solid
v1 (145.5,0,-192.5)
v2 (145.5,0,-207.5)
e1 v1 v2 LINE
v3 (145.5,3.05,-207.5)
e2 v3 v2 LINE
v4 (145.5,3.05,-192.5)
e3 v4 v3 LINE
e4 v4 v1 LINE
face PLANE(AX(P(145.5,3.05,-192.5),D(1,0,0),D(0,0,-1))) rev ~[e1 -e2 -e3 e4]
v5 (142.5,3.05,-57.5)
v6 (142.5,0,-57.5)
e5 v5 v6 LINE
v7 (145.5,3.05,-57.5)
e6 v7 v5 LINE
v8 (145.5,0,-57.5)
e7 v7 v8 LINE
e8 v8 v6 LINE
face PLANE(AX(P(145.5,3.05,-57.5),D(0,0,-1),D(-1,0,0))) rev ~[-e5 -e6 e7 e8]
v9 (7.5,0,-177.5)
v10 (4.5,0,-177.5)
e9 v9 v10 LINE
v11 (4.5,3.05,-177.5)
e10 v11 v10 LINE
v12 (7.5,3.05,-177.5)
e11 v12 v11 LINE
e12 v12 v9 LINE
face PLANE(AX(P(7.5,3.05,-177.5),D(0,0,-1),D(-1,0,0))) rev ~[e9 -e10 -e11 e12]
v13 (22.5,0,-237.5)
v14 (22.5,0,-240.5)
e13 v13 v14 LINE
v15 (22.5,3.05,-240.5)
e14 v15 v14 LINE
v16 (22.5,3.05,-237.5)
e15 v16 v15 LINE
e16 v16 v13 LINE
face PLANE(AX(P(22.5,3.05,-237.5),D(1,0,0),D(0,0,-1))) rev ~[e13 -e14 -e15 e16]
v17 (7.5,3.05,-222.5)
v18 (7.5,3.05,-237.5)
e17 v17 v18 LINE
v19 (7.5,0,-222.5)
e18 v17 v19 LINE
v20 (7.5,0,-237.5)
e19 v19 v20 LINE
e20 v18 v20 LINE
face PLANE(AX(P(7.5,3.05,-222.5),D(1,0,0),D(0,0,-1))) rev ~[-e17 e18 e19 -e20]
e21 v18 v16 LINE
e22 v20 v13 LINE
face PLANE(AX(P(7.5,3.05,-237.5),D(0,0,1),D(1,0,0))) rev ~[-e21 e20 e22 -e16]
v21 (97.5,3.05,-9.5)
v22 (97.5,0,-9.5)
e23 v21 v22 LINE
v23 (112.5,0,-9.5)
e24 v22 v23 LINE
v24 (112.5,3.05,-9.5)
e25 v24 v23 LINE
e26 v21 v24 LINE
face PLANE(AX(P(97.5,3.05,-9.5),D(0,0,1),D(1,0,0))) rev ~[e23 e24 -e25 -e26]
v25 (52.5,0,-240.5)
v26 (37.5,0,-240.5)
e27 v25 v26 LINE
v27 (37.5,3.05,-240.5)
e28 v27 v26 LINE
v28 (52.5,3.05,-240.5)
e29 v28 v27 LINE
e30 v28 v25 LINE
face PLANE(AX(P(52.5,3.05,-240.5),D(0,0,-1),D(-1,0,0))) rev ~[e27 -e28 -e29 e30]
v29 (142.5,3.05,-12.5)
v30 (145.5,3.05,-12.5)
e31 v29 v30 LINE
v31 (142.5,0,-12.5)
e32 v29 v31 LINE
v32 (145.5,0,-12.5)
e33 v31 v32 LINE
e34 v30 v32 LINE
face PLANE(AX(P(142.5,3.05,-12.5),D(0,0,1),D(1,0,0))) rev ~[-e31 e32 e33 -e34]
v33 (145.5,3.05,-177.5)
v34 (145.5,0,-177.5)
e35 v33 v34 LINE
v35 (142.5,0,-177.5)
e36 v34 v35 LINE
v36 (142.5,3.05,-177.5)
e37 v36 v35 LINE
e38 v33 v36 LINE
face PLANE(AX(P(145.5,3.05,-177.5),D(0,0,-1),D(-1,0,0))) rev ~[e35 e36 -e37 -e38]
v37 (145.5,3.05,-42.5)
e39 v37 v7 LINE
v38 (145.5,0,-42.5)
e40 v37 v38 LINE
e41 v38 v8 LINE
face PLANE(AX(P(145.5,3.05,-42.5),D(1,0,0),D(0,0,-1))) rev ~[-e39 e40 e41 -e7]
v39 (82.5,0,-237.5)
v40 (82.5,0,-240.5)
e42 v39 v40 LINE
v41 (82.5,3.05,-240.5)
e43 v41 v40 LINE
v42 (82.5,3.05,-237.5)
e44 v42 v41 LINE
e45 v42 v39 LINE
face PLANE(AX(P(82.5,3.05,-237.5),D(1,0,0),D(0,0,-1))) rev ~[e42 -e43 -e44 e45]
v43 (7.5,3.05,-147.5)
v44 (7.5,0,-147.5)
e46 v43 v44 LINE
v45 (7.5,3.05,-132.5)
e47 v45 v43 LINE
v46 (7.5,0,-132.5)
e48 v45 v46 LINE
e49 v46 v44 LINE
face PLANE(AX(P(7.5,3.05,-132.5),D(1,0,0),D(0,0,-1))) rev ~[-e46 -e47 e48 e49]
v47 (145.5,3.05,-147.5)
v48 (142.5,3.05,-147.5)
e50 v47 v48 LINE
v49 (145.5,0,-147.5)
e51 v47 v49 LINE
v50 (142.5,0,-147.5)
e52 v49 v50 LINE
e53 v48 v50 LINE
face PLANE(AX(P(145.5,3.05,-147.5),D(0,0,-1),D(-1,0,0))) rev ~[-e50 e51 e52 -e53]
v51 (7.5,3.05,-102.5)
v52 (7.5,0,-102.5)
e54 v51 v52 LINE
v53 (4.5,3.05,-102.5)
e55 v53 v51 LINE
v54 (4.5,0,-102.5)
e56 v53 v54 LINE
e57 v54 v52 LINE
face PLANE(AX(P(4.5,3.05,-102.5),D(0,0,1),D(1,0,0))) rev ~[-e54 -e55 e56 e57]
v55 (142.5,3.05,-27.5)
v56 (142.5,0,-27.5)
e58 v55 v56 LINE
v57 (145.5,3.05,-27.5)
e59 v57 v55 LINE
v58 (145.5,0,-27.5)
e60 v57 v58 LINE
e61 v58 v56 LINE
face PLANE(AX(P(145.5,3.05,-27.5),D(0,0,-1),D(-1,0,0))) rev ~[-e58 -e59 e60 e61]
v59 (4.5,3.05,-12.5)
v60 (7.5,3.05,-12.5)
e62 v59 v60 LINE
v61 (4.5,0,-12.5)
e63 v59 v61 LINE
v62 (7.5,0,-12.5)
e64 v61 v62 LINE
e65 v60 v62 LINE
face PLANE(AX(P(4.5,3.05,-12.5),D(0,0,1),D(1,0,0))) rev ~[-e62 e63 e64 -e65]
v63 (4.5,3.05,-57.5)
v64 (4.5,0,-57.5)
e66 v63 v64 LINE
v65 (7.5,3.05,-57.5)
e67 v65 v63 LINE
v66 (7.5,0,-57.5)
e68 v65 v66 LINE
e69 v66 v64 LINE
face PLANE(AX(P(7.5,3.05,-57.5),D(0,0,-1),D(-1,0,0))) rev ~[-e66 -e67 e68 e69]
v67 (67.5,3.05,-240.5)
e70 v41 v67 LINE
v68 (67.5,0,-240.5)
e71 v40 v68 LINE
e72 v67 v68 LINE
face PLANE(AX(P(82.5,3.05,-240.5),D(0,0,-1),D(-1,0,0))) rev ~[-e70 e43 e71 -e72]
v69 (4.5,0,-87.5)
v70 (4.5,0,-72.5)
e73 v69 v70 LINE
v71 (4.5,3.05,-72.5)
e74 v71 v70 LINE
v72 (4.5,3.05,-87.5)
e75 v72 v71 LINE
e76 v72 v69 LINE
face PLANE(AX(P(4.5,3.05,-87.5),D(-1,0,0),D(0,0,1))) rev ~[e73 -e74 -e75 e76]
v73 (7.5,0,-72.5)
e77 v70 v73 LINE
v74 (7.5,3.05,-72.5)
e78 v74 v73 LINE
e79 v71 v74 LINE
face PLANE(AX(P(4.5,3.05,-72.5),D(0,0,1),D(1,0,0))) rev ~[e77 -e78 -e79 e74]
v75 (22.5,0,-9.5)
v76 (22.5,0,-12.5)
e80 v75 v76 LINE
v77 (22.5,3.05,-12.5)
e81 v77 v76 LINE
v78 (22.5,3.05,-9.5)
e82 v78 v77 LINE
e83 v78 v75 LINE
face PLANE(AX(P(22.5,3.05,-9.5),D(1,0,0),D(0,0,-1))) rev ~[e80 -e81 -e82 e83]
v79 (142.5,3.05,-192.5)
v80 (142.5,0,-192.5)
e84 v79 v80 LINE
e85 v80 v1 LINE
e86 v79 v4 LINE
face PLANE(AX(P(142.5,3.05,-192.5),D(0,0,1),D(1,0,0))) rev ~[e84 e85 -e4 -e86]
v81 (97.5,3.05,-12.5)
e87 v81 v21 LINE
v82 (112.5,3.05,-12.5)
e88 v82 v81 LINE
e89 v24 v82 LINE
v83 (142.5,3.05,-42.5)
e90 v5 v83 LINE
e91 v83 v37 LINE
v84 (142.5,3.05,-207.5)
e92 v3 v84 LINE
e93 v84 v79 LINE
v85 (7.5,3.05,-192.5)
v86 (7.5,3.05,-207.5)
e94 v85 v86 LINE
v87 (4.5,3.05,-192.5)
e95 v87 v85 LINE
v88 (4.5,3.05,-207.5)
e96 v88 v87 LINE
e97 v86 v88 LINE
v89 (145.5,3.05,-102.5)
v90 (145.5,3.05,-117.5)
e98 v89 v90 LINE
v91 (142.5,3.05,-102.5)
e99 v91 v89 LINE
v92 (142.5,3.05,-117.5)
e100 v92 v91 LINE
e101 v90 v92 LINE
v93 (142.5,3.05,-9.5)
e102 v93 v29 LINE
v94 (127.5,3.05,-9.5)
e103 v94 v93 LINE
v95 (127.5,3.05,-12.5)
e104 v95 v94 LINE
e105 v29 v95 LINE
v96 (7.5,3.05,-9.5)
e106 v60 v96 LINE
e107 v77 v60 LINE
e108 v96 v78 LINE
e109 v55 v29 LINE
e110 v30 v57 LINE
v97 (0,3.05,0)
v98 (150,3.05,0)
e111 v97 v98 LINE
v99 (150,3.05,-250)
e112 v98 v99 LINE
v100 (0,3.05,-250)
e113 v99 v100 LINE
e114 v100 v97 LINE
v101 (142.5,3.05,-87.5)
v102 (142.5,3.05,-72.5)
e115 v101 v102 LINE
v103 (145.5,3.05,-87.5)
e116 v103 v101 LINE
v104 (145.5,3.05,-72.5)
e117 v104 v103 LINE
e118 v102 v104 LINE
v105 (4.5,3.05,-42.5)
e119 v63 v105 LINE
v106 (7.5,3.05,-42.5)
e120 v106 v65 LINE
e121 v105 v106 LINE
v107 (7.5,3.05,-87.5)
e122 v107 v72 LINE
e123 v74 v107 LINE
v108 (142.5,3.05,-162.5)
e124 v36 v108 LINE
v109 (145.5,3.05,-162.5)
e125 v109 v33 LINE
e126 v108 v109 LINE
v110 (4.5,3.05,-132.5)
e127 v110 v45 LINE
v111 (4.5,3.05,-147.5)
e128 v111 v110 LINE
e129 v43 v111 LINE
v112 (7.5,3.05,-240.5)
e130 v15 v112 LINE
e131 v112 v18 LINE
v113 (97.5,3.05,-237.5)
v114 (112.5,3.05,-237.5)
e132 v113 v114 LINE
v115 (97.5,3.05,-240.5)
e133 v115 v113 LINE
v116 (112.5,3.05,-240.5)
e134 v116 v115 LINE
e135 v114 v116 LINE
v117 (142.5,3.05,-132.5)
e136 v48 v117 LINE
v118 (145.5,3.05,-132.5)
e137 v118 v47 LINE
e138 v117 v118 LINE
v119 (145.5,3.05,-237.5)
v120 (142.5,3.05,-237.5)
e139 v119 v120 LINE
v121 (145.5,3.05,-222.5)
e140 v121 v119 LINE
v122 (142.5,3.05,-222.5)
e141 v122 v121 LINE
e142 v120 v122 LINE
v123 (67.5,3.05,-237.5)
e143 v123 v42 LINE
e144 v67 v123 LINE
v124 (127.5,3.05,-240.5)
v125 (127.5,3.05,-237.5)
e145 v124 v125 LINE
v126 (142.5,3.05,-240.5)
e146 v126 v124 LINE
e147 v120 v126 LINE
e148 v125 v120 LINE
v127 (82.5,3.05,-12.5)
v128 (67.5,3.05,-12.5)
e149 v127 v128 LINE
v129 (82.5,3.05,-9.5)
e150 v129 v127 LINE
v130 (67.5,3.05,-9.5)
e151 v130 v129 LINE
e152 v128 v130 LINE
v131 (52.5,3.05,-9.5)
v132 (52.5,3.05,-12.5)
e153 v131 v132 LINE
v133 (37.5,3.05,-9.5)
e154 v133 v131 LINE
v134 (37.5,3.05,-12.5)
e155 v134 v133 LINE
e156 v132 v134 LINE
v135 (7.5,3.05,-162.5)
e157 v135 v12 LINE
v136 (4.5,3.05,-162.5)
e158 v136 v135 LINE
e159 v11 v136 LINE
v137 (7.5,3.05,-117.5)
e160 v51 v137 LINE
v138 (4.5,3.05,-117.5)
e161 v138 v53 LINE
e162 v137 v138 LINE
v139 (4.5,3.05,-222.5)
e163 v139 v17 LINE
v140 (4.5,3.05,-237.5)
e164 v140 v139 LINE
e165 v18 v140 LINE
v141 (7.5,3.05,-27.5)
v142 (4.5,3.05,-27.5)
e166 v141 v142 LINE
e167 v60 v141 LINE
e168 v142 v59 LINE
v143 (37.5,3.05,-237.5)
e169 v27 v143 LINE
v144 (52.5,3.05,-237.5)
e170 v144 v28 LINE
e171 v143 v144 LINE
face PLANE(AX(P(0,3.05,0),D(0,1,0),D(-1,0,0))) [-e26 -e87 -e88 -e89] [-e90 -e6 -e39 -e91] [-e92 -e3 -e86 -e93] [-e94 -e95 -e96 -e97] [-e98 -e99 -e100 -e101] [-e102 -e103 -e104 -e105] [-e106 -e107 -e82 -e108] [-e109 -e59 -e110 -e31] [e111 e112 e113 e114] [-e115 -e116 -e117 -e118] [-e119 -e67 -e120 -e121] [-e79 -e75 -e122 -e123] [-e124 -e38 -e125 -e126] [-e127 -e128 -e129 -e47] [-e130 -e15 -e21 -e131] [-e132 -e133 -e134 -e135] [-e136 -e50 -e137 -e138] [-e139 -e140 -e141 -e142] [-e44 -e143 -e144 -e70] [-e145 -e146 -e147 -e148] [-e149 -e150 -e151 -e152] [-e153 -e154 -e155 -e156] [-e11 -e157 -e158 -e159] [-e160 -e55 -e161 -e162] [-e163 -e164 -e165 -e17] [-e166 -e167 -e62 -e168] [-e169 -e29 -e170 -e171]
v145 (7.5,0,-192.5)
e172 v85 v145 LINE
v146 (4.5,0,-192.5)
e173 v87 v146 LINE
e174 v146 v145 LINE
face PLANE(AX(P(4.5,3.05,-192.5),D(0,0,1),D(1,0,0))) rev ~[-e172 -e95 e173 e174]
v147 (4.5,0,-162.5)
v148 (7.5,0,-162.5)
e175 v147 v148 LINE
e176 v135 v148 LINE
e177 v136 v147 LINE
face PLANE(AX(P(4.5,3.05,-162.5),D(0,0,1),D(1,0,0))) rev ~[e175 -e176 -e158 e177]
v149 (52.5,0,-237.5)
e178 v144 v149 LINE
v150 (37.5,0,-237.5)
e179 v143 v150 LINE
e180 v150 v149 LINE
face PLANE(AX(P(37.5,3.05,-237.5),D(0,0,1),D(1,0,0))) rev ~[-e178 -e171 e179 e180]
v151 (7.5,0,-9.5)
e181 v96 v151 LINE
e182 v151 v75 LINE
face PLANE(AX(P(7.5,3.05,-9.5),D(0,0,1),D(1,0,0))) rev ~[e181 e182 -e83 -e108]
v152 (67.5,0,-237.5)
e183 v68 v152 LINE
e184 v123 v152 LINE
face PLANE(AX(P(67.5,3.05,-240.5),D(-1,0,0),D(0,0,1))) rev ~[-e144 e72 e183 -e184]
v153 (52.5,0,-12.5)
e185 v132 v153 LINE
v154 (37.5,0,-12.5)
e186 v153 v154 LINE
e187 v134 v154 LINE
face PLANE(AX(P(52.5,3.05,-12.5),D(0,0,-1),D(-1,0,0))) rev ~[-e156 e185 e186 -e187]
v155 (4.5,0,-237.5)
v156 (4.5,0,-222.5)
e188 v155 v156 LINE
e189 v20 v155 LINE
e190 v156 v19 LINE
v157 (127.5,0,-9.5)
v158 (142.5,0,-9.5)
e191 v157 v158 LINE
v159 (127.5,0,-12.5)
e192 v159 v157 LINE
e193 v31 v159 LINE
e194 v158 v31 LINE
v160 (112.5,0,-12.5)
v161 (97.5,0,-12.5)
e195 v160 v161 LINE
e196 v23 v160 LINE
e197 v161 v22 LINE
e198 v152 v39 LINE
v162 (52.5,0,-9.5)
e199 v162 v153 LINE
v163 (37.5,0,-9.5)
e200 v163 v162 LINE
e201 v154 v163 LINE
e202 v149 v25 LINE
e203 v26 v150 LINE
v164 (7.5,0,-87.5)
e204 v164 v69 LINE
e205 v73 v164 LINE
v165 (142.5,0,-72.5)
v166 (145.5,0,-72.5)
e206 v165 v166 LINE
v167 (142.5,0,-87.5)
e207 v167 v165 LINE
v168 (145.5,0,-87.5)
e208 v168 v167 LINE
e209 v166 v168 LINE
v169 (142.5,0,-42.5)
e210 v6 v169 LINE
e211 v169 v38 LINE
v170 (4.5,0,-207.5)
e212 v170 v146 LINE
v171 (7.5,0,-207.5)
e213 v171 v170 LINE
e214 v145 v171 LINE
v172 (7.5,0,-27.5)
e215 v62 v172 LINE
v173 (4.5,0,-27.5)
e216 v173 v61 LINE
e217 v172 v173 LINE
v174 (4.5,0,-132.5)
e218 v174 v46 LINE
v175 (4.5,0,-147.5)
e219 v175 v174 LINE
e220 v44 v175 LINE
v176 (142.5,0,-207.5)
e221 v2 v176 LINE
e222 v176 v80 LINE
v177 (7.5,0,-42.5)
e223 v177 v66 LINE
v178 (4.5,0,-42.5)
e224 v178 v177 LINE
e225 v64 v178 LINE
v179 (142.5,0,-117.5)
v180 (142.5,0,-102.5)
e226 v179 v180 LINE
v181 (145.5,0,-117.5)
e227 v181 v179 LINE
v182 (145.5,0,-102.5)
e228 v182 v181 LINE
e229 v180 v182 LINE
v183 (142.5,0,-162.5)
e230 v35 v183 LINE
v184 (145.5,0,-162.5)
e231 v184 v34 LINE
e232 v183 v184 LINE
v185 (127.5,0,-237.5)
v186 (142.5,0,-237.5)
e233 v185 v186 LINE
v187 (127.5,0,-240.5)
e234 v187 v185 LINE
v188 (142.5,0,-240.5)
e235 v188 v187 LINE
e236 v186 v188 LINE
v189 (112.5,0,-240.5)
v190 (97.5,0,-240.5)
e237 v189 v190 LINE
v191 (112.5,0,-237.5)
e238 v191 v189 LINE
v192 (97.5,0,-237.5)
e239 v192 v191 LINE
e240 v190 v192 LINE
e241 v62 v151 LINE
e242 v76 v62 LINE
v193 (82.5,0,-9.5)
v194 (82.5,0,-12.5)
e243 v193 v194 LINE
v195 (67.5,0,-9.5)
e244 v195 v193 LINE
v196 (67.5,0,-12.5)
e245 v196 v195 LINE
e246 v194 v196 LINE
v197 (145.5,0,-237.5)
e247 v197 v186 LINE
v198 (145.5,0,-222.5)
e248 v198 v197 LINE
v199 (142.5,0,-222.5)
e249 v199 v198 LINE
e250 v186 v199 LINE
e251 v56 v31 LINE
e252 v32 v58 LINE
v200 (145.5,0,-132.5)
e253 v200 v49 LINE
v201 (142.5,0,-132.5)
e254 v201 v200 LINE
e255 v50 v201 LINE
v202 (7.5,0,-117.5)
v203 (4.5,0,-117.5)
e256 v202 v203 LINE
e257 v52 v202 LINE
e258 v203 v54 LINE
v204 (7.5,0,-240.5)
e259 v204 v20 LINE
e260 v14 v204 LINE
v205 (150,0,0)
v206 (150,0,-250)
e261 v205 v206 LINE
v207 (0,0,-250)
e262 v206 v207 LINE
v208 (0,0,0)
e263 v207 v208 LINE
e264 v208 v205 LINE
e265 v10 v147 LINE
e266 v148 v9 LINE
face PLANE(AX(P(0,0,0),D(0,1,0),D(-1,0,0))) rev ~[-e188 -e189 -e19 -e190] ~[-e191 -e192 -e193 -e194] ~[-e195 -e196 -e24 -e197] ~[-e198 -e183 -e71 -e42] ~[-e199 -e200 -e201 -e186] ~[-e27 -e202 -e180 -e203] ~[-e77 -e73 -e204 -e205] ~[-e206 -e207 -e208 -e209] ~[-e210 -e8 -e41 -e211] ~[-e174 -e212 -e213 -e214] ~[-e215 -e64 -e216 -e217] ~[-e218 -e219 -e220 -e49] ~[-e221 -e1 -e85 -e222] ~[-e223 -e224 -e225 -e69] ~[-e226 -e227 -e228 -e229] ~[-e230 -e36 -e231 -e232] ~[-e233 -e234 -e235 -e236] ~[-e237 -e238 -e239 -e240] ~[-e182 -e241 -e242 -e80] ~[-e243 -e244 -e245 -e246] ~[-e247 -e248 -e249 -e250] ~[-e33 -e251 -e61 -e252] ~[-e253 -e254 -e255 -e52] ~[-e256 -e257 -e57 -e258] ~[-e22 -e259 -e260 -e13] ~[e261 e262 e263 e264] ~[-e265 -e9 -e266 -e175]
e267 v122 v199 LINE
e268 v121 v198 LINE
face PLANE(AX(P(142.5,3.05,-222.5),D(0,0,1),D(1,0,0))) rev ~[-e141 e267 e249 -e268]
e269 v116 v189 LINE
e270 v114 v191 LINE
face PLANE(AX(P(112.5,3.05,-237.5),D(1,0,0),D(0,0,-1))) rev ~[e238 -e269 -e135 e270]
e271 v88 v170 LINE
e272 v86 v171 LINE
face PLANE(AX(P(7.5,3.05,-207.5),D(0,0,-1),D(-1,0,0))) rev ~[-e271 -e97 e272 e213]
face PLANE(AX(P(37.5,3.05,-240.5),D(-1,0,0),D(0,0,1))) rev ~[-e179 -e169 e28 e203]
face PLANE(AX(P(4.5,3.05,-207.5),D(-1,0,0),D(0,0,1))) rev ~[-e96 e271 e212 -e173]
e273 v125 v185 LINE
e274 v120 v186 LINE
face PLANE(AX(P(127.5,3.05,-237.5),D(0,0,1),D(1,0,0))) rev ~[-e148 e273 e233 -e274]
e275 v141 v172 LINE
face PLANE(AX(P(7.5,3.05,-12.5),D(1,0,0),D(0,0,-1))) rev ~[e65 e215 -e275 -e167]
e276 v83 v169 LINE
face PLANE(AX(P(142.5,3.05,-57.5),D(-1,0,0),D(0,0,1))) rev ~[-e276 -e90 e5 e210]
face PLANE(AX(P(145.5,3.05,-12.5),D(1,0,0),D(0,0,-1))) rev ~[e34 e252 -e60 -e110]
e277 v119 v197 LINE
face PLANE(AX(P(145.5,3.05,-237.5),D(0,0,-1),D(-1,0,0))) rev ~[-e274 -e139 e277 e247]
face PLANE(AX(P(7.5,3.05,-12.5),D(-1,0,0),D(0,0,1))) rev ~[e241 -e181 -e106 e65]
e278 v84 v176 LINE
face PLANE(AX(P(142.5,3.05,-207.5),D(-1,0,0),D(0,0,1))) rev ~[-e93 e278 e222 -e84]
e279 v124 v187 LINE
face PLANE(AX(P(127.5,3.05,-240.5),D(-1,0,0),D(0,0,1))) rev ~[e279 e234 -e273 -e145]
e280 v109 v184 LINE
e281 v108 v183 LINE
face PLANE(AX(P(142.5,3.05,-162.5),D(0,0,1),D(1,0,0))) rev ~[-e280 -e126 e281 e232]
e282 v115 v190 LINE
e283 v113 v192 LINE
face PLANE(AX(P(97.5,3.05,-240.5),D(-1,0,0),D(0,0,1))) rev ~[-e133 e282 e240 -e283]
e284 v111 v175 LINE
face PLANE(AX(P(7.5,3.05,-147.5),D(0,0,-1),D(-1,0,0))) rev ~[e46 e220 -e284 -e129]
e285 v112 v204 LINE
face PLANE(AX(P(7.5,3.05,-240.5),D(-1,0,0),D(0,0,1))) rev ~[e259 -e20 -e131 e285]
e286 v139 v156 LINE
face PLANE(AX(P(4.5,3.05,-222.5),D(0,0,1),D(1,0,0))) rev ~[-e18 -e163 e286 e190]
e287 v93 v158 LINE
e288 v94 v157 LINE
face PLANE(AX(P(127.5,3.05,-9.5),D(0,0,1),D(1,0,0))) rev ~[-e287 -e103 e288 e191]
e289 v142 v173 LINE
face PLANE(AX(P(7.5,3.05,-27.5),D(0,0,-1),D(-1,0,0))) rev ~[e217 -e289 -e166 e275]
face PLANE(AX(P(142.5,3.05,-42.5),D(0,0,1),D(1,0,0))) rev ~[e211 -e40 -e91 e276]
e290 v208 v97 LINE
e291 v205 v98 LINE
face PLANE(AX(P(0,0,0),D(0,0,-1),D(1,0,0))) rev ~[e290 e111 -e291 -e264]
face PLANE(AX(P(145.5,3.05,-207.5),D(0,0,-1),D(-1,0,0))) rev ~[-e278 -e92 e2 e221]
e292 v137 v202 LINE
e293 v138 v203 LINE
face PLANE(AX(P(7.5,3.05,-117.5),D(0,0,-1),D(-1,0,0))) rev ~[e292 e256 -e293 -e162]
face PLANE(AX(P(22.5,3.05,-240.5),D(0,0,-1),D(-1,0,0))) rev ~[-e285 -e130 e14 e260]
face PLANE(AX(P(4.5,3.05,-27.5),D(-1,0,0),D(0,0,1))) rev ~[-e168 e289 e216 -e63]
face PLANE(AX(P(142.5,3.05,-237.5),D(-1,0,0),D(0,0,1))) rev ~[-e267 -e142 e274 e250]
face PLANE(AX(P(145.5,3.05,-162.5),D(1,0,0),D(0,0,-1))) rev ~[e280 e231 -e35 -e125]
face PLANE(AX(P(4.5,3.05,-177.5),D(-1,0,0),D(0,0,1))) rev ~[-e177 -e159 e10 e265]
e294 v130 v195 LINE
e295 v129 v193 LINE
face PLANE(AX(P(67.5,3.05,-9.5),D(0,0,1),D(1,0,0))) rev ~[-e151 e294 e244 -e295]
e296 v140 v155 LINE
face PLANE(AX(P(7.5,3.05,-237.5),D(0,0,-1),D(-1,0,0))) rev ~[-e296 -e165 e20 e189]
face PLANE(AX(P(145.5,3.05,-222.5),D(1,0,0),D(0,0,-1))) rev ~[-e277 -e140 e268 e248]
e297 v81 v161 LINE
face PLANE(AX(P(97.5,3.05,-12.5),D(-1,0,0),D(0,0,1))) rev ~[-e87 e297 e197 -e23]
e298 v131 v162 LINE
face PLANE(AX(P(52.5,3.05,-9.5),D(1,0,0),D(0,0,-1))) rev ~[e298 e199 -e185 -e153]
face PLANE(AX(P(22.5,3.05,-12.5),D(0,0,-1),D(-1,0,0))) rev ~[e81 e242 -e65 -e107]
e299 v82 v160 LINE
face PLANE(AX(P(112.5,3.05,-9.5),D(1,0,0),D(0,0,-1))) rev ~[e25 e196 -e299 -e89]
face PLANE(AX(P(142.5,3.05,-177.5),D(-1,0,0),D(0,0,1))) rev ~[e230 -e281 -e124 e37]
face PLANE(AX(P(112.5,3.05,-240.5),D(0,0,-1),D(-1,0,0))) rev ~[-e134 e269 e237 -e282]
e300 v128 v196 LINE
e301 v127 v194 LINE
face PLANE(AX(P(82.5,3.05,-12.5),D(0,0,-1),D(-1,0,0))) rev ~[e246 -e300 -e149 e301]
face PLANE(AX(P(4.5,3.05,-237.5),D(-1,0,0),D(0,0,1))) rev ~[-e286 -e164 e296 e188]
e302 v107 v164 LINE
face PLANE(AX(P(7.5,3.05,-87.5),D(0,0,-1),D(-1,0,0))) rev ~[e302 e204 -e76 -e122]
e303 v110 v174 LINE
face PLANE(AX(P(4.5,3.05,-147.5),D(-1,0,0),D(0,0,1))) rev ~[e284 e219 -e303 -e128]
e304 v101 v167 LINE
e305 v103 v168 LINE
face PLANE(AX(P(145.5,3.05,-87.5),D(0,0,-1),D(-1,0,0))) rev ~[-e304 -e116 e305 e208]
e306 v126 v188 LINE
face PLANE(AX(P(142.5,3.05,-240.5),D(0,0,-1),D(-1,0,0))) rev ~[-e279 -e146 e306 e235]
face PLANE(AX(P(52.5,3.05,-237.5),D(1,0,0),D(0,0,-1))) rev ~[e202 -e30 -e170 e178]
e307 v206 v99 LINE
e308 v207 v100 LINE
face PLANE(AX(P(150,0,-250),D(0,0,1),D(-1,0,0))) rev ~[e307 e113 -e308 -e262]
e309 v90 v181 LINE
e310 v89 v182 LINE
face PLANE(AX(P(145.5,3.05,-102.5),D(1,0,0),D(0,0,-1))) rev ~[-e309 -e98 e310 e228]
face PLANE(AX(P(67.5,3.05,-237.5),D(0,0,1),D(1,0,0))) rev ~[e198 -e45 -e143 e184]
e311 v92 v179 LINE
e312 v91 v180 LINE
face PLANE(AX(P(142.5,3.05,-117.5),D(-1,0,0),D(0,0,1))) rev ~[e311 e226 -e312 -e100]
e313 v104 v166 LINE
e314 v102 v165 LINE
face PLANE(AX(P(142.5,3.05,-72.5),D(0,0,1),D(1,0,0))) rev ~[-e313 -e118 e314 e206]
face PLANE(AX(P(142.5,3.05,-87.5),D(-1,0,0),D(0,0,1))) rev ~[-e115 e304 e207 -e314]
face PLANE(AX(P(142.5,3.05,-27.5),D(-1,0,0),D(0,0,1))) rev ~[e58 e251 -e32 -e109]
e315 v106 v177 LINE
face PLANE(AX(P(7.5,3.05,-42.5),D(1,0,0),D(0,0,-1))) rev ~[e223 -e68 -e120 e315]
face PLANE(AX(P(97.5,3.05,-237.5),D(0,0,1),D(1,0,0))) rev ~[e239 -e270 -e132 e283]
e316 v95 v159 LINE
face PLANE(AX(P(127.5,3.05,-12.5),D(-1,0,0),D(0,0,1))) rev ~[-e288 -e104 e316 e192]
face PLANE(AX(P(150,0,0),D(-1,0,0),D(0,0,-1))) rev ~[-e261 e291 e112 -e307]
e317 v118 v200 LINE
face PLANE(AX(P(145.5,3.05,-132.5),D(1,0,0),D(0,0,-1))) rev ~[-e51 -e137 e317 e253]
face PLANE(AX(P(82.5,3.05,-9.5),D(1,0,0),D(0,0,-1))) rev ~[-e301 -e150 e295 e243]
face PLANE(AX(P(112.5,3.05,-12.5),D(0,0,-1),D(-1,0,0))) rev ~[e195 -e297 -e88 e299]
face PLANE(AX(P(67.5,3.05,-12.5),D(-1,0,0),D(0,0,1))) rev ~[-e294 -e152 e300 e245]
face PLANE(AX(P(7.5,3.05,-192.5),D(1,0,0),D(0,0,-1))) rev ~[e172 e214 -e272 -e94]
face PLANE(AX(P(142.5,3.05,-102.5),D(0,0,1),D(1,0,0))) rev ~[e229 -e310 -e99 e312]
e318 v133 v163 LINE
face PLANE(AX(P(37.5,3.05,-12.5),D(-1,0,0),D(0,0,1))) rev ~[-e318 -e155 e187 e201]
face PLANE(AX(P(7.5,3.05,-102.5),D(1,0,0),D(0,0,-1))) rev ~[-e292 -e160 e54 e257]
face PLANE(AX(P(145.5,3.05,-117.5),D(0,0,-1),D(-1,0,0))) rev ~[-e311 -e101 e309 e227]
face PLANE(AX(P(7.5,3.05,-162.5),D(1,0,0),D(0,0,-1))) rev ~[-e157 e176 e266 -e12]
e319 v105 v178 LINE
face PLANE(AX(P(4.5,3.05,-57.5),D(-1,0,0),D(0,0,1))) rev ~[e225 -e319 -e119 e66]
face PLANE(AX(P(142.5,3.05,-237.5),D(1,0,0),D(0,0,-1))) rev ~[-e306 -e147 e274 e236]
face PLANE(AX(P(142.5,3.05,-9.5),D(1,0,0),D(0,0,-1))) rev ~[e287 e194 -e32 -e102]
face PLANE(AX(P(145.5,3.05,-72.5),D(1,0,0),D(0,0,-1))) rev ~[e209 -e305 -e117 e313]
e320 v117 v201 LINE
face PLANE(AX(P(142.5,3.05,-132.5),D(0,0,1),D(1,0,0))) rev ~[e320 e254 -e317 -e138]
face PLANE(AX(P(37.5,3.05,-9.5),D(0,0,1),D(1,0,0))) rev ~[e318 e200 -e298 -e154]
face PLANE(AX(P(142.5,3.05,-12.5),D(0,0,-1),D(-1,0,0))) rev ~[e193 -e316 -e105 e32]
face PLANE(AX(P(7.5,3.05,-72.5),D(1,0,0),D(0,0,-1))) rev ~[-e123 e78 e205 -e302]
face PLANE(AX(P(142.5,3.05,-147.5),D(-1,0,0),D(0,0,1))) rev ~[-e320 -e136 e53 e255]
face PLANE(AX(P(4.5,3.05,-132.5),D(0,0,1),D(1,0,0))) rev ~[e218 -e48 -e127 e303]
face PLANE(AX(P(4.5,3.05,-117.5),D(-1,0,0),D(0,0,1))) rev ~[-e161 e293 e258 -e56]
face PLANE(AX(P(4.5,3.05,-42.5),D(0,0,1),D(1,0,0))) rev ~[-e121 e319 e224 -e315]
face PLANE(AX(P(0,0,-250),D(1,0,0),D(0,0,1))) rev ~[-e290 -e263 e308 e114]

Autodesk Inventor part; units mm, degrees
ref_plane "YZ Plane" through (0, 0, 0) normal (1, 0, 0) x (0, 1, 0)
ref_plane "XZ Plane" through (0, 0, 0) normal (0, 1, 0) x (-1, 0, 0)
ref_plane "XY Plane" through (0, 0, 0) normal (0, 0, 1) x (1, 0, 0)
sketch "Sketch1" plane through (0, 0, 0) normal (0, 1, 0) x (-1, 0, 0)
  line L0 (0, 0) -> (-150, 0)
  line L1 (-150, 0) -> (-150, -250)
  line L2 (-150, -250) -> (0, -250)
  line L3 (0, -250) -> (0, 0)
  dimension "d0" = 250
  dimension "d1" = 150
extrude "Extrusion1" add sketch "Sketch1" along normal blind 3.05
sketch "Sketch2" plane through (0, 3.05, 0) normal (0, 1, 0) x (1, 0, 0)
  line L0 (7.5, 9.5) -> (22.5, 9.5)
  line L1 (22.5, 9.5) -> (22.5, 12.5)
  line L2 (22.5, 12.5) -> (7.5, 12.5)
  line L3 (7.5, 12.5) -> (7.5, 9.5)
  line L4 (7.5, 12.5) -> (142.5, 12.5) construction
  line L5 (142.5, 12.5) -> (142.5, 237.5) construction
  line L6 (142.5, 237.5) -> (7.5, 237.5) construction
  line L7 (7.5, 237.5) -> (7.5, 12.5) construction
  line L8 (0, 0) -> (150, 0) projected
  line L9 (0, 250) -> (0, 0) projected
  line L10 (37.5, 12.5) -> (37.5, 9.5)
  line L11 (37.5, 9.5) -> (52.5, 9.5)
  line L12 (52.5, 12.5) -> (37.5, 12.5)
  line L13 (52.5, 9.5) -> (52.5, 12.5)
  line L14 (67.5, 12.5) -> (67.5, 9.5)
  line L15 (67.5, 9.5) -> (82.5, 9.5)
  line L16 (82.5, 12.5) -> (67.5, 12.5)
  line L17 (82.5, 9.5) -> (82.5, 12.5)
  line L18 (97.5, 12.5) -> (97.5, 9.5)
  line L19 (97.5, 9.5) -> (112.5, 9.5)
  line L20 (112.5, 12.5) -> (97.5, 12.5)
  line L21 (112.5, 9.5) -> (112.5, 12.5)
  line L22 (127.5, 12.5) -> (127.5, 9.5)
  line L23 (127.5, 9.5) -> (142.5, 9.5)
  line L24 (142.5, 12.5) -> (127.5, 12.5)
  line L25 (142.5, 9.5) -> (142.5, 12.5)
  line L26 (7.5, 240.5) -> (7.5, 237.5)
  line L27 (7.5, 237.5) -> (22.5, 237.5)
  line L28 (22.5, 240.5) -> (7.5, 240.5)
  line L29 (22.5, 237.5) -> (22.5, 240.5)
  line L30 (37.5, 240.5) -> (37.5, 237.5)
  line L31 (37.5, 237.5) -> (52.5, 237.5)
  line L32 (52.5, 240.5) -> (37.5, 240.5)
  line L33 (52.5, 237.5) -> (52.5, 240.5)
  line L34 (67.5, 240.5) -> (67.5, 237.5)
  line L35 (67.5, 237.5) -> (82.5, 237.5)
  line L36 (82.5, 240.5) -> (67.5, 240.5)
  line L37 (82.5, 237.5) -> (82.5, 240.5)
  line L38 (97.5, 240.5) -> (97.5, 237.5)
  line L39 (97.5, 237.5) -> (112.5, 237.5)
  line L40 (112.5, 240.5) -> (97.5, 240.5)
  line L41 (112.5, 237.5) -> (112.5, 240.5)
  line L42 (127.5, 240.5) -> (127.5, 237.5)
  line L43 (127.5, 237.5) -> (142.5, 237.5)
  line L44 (142.5, 240.5) -> (127.5, 240.5)
  line L45 (142.5, 237.5) -> (142.5, 240.5)
  line L46 (142.5, 12.5) -> (145.5, 12.5)
  line L47 (145.5, 12.5) -> (145.5, 27.5)
  line L48 (145.5, 27.5) -> (142.5, 27.5)
  line L49 (142.5, 27.5) -> (142.5, 12.5)
  line L50 (142.5, 57.5) -> (142.5, 42.5)
  line L51 (142.5, 42.5) -> (145.5, 42.5)
  line L52 (145.5, 57.5) -> (142.5, 57.5)
  line L53 (145.5, 42.5) -> (145.5, 57.5)
  line L54 (142.5, 87.5) -> (142.5, 72.5)
  line L55 (142.5, 72.5) -> (145.5, 72.5)
  line L56 (145.5, 87.5) -> (142.5, 87.5)
  line L57 (145.5, 72.5) -> (145.5, 87.5)
  line L58 (142.5, 117.5) -> (142.5, 102.5)
  line L59 (142.5, 102.5) -> (145.5, 102.5)
  line L60 (145.5, 117.5) -> (142.5, 117.5)
  line L61 (145.5, 102.5) -> (145.5, 117.5)
  line L62 (142.5, 147.5) -> (142.5, 132.5)
  line L63 (142.5, 132.5) -> (145.5, 132.5)
  line L64 (145.5, 147.5) -> (142.5, 147.5)
  line L65 (145.5, 132.5) -> (145.5, 147.5)
  line L66 (142.5, 177.5) -> (142.5, 162.5)
  line L67 (142.5, 162.5) -> (145.5, 162.5)
  line L68 (145.5, 177.5) -> (142.5, 177.5)
  line L69 (145.5, 162.5) -> (145.5, 177.5)
  line L70 (142.5, 207.5) -> (142.5, 192.5)
  line L71 (142.5, 192.5) -> (145.5, 192.5)
  line L72 (145.5, 207.5) -> (142.5, 207.5)
  line L73 (145.5, 192.5) -> (145.5, 207.5)
  line L74 (142.5, 237.5) -> (142.5, 222.5)
  line L75 (142.5, 222.5) -> (145.5, 222.5)
  line L76 (145.5, 237.5) -> (142.5, 237.5)
  line L77 (145.5, 222.5) -> (145.5, 237.5)
  line L78 (4.5, 27.5) -> (4.5, 12.5)
  line L79 (4.5, 12.5) -> (7.5, 12.5)
  line L80 (7.5, 27.5) -> (4.5, 27.5)
  line L81 (7.5, 12.5) -> (7.5, 27.5)
  line L82 (4.5, 57.5) -> (4.5, 42.5)
  line L83 (4.5, 42.5) -> (7.5, 42.5)
  line L84 (7.5, 57.5) -> (4.5, 57.5)
  line L85 (7.5, 42.5) -> (7.5, 57.5)
  line L86 (4.5, 87.5) -> (4.5, 72.5)
  line L87 (4.5, 72.5) -> (7.5, 72.5)
  line L88 (7.5, 87.5) -> (4.5, 87.5)
  line L89 (7.5, 72.5) -> (7.5, 87.5)
  line L90 (4.5, 117.5) -> (4.5, 102.5)
  line L91 (4.5, 102.5) -> (7.5, 102.5)
  line L92 (7.5, 117.5) -> (4.5, 117.5)
  line L93 (7.5, 102.5) -> (7.5, 117.5)
  line L94 (4.5, 147.5) -> (4.5, 132.5)
  line L95 (4.5, 132.5) -> (7.5, 132.5)
  line L96 (7.5, 147.5) -> (4.5, 147.5)
  line L97 (7.5, 132.5) -> (7.5, 147.5)
  line L98 (4.5, 177.5) -> (4.5, 162.5)
  line L99 (4.5, 162.5) -> (7.5, 162.5)
  line L100 (7.5, 177.5) -> (4.5, 177.5)
  line L101 (7.5, 162.5) -> (7.5, 177.5)
  line L102 (4.5, 207.5) -> (4.5, 192.5)
  line L103 (4.5, 192.5) -> (7.5, 192.5)
  line L104 (7.5, 207.5) -> (4.5, 207.5)
  line L105 (7.5, 192.5) -> (7.5, 207.5)
  line L106 (4.5, 237.5) -> (4.5, 222.5)
  line L107 (4.5, 222.5) -> (7.5, 222.5)
  line L108 (7.5, 237.5) -> (4.5, 237.5)
  line L109 (7.5, 222.5) -> (7.5, 237.5)
  point P0 (75, 12.5)
  point P1 (75, 0)
  point P2 (7.5, 125)
  point P3 (0, 125)
  dimension "d4" = 3
  dimension "d5" = 15
  dimension "d6" = 225
  dimension "d7" = 135
  dimension "d11" = 30
  dimension "d14" = 228
  dimension "d19" = 3
  dimension "d20" = 15
  dimension "d31" = 30
  dimension "d34" = 138
extrude "Extrusion2" cut sketch "Sketch2" against normal blind 228
equation "\"d17\" = d14"
properties part number "base"
